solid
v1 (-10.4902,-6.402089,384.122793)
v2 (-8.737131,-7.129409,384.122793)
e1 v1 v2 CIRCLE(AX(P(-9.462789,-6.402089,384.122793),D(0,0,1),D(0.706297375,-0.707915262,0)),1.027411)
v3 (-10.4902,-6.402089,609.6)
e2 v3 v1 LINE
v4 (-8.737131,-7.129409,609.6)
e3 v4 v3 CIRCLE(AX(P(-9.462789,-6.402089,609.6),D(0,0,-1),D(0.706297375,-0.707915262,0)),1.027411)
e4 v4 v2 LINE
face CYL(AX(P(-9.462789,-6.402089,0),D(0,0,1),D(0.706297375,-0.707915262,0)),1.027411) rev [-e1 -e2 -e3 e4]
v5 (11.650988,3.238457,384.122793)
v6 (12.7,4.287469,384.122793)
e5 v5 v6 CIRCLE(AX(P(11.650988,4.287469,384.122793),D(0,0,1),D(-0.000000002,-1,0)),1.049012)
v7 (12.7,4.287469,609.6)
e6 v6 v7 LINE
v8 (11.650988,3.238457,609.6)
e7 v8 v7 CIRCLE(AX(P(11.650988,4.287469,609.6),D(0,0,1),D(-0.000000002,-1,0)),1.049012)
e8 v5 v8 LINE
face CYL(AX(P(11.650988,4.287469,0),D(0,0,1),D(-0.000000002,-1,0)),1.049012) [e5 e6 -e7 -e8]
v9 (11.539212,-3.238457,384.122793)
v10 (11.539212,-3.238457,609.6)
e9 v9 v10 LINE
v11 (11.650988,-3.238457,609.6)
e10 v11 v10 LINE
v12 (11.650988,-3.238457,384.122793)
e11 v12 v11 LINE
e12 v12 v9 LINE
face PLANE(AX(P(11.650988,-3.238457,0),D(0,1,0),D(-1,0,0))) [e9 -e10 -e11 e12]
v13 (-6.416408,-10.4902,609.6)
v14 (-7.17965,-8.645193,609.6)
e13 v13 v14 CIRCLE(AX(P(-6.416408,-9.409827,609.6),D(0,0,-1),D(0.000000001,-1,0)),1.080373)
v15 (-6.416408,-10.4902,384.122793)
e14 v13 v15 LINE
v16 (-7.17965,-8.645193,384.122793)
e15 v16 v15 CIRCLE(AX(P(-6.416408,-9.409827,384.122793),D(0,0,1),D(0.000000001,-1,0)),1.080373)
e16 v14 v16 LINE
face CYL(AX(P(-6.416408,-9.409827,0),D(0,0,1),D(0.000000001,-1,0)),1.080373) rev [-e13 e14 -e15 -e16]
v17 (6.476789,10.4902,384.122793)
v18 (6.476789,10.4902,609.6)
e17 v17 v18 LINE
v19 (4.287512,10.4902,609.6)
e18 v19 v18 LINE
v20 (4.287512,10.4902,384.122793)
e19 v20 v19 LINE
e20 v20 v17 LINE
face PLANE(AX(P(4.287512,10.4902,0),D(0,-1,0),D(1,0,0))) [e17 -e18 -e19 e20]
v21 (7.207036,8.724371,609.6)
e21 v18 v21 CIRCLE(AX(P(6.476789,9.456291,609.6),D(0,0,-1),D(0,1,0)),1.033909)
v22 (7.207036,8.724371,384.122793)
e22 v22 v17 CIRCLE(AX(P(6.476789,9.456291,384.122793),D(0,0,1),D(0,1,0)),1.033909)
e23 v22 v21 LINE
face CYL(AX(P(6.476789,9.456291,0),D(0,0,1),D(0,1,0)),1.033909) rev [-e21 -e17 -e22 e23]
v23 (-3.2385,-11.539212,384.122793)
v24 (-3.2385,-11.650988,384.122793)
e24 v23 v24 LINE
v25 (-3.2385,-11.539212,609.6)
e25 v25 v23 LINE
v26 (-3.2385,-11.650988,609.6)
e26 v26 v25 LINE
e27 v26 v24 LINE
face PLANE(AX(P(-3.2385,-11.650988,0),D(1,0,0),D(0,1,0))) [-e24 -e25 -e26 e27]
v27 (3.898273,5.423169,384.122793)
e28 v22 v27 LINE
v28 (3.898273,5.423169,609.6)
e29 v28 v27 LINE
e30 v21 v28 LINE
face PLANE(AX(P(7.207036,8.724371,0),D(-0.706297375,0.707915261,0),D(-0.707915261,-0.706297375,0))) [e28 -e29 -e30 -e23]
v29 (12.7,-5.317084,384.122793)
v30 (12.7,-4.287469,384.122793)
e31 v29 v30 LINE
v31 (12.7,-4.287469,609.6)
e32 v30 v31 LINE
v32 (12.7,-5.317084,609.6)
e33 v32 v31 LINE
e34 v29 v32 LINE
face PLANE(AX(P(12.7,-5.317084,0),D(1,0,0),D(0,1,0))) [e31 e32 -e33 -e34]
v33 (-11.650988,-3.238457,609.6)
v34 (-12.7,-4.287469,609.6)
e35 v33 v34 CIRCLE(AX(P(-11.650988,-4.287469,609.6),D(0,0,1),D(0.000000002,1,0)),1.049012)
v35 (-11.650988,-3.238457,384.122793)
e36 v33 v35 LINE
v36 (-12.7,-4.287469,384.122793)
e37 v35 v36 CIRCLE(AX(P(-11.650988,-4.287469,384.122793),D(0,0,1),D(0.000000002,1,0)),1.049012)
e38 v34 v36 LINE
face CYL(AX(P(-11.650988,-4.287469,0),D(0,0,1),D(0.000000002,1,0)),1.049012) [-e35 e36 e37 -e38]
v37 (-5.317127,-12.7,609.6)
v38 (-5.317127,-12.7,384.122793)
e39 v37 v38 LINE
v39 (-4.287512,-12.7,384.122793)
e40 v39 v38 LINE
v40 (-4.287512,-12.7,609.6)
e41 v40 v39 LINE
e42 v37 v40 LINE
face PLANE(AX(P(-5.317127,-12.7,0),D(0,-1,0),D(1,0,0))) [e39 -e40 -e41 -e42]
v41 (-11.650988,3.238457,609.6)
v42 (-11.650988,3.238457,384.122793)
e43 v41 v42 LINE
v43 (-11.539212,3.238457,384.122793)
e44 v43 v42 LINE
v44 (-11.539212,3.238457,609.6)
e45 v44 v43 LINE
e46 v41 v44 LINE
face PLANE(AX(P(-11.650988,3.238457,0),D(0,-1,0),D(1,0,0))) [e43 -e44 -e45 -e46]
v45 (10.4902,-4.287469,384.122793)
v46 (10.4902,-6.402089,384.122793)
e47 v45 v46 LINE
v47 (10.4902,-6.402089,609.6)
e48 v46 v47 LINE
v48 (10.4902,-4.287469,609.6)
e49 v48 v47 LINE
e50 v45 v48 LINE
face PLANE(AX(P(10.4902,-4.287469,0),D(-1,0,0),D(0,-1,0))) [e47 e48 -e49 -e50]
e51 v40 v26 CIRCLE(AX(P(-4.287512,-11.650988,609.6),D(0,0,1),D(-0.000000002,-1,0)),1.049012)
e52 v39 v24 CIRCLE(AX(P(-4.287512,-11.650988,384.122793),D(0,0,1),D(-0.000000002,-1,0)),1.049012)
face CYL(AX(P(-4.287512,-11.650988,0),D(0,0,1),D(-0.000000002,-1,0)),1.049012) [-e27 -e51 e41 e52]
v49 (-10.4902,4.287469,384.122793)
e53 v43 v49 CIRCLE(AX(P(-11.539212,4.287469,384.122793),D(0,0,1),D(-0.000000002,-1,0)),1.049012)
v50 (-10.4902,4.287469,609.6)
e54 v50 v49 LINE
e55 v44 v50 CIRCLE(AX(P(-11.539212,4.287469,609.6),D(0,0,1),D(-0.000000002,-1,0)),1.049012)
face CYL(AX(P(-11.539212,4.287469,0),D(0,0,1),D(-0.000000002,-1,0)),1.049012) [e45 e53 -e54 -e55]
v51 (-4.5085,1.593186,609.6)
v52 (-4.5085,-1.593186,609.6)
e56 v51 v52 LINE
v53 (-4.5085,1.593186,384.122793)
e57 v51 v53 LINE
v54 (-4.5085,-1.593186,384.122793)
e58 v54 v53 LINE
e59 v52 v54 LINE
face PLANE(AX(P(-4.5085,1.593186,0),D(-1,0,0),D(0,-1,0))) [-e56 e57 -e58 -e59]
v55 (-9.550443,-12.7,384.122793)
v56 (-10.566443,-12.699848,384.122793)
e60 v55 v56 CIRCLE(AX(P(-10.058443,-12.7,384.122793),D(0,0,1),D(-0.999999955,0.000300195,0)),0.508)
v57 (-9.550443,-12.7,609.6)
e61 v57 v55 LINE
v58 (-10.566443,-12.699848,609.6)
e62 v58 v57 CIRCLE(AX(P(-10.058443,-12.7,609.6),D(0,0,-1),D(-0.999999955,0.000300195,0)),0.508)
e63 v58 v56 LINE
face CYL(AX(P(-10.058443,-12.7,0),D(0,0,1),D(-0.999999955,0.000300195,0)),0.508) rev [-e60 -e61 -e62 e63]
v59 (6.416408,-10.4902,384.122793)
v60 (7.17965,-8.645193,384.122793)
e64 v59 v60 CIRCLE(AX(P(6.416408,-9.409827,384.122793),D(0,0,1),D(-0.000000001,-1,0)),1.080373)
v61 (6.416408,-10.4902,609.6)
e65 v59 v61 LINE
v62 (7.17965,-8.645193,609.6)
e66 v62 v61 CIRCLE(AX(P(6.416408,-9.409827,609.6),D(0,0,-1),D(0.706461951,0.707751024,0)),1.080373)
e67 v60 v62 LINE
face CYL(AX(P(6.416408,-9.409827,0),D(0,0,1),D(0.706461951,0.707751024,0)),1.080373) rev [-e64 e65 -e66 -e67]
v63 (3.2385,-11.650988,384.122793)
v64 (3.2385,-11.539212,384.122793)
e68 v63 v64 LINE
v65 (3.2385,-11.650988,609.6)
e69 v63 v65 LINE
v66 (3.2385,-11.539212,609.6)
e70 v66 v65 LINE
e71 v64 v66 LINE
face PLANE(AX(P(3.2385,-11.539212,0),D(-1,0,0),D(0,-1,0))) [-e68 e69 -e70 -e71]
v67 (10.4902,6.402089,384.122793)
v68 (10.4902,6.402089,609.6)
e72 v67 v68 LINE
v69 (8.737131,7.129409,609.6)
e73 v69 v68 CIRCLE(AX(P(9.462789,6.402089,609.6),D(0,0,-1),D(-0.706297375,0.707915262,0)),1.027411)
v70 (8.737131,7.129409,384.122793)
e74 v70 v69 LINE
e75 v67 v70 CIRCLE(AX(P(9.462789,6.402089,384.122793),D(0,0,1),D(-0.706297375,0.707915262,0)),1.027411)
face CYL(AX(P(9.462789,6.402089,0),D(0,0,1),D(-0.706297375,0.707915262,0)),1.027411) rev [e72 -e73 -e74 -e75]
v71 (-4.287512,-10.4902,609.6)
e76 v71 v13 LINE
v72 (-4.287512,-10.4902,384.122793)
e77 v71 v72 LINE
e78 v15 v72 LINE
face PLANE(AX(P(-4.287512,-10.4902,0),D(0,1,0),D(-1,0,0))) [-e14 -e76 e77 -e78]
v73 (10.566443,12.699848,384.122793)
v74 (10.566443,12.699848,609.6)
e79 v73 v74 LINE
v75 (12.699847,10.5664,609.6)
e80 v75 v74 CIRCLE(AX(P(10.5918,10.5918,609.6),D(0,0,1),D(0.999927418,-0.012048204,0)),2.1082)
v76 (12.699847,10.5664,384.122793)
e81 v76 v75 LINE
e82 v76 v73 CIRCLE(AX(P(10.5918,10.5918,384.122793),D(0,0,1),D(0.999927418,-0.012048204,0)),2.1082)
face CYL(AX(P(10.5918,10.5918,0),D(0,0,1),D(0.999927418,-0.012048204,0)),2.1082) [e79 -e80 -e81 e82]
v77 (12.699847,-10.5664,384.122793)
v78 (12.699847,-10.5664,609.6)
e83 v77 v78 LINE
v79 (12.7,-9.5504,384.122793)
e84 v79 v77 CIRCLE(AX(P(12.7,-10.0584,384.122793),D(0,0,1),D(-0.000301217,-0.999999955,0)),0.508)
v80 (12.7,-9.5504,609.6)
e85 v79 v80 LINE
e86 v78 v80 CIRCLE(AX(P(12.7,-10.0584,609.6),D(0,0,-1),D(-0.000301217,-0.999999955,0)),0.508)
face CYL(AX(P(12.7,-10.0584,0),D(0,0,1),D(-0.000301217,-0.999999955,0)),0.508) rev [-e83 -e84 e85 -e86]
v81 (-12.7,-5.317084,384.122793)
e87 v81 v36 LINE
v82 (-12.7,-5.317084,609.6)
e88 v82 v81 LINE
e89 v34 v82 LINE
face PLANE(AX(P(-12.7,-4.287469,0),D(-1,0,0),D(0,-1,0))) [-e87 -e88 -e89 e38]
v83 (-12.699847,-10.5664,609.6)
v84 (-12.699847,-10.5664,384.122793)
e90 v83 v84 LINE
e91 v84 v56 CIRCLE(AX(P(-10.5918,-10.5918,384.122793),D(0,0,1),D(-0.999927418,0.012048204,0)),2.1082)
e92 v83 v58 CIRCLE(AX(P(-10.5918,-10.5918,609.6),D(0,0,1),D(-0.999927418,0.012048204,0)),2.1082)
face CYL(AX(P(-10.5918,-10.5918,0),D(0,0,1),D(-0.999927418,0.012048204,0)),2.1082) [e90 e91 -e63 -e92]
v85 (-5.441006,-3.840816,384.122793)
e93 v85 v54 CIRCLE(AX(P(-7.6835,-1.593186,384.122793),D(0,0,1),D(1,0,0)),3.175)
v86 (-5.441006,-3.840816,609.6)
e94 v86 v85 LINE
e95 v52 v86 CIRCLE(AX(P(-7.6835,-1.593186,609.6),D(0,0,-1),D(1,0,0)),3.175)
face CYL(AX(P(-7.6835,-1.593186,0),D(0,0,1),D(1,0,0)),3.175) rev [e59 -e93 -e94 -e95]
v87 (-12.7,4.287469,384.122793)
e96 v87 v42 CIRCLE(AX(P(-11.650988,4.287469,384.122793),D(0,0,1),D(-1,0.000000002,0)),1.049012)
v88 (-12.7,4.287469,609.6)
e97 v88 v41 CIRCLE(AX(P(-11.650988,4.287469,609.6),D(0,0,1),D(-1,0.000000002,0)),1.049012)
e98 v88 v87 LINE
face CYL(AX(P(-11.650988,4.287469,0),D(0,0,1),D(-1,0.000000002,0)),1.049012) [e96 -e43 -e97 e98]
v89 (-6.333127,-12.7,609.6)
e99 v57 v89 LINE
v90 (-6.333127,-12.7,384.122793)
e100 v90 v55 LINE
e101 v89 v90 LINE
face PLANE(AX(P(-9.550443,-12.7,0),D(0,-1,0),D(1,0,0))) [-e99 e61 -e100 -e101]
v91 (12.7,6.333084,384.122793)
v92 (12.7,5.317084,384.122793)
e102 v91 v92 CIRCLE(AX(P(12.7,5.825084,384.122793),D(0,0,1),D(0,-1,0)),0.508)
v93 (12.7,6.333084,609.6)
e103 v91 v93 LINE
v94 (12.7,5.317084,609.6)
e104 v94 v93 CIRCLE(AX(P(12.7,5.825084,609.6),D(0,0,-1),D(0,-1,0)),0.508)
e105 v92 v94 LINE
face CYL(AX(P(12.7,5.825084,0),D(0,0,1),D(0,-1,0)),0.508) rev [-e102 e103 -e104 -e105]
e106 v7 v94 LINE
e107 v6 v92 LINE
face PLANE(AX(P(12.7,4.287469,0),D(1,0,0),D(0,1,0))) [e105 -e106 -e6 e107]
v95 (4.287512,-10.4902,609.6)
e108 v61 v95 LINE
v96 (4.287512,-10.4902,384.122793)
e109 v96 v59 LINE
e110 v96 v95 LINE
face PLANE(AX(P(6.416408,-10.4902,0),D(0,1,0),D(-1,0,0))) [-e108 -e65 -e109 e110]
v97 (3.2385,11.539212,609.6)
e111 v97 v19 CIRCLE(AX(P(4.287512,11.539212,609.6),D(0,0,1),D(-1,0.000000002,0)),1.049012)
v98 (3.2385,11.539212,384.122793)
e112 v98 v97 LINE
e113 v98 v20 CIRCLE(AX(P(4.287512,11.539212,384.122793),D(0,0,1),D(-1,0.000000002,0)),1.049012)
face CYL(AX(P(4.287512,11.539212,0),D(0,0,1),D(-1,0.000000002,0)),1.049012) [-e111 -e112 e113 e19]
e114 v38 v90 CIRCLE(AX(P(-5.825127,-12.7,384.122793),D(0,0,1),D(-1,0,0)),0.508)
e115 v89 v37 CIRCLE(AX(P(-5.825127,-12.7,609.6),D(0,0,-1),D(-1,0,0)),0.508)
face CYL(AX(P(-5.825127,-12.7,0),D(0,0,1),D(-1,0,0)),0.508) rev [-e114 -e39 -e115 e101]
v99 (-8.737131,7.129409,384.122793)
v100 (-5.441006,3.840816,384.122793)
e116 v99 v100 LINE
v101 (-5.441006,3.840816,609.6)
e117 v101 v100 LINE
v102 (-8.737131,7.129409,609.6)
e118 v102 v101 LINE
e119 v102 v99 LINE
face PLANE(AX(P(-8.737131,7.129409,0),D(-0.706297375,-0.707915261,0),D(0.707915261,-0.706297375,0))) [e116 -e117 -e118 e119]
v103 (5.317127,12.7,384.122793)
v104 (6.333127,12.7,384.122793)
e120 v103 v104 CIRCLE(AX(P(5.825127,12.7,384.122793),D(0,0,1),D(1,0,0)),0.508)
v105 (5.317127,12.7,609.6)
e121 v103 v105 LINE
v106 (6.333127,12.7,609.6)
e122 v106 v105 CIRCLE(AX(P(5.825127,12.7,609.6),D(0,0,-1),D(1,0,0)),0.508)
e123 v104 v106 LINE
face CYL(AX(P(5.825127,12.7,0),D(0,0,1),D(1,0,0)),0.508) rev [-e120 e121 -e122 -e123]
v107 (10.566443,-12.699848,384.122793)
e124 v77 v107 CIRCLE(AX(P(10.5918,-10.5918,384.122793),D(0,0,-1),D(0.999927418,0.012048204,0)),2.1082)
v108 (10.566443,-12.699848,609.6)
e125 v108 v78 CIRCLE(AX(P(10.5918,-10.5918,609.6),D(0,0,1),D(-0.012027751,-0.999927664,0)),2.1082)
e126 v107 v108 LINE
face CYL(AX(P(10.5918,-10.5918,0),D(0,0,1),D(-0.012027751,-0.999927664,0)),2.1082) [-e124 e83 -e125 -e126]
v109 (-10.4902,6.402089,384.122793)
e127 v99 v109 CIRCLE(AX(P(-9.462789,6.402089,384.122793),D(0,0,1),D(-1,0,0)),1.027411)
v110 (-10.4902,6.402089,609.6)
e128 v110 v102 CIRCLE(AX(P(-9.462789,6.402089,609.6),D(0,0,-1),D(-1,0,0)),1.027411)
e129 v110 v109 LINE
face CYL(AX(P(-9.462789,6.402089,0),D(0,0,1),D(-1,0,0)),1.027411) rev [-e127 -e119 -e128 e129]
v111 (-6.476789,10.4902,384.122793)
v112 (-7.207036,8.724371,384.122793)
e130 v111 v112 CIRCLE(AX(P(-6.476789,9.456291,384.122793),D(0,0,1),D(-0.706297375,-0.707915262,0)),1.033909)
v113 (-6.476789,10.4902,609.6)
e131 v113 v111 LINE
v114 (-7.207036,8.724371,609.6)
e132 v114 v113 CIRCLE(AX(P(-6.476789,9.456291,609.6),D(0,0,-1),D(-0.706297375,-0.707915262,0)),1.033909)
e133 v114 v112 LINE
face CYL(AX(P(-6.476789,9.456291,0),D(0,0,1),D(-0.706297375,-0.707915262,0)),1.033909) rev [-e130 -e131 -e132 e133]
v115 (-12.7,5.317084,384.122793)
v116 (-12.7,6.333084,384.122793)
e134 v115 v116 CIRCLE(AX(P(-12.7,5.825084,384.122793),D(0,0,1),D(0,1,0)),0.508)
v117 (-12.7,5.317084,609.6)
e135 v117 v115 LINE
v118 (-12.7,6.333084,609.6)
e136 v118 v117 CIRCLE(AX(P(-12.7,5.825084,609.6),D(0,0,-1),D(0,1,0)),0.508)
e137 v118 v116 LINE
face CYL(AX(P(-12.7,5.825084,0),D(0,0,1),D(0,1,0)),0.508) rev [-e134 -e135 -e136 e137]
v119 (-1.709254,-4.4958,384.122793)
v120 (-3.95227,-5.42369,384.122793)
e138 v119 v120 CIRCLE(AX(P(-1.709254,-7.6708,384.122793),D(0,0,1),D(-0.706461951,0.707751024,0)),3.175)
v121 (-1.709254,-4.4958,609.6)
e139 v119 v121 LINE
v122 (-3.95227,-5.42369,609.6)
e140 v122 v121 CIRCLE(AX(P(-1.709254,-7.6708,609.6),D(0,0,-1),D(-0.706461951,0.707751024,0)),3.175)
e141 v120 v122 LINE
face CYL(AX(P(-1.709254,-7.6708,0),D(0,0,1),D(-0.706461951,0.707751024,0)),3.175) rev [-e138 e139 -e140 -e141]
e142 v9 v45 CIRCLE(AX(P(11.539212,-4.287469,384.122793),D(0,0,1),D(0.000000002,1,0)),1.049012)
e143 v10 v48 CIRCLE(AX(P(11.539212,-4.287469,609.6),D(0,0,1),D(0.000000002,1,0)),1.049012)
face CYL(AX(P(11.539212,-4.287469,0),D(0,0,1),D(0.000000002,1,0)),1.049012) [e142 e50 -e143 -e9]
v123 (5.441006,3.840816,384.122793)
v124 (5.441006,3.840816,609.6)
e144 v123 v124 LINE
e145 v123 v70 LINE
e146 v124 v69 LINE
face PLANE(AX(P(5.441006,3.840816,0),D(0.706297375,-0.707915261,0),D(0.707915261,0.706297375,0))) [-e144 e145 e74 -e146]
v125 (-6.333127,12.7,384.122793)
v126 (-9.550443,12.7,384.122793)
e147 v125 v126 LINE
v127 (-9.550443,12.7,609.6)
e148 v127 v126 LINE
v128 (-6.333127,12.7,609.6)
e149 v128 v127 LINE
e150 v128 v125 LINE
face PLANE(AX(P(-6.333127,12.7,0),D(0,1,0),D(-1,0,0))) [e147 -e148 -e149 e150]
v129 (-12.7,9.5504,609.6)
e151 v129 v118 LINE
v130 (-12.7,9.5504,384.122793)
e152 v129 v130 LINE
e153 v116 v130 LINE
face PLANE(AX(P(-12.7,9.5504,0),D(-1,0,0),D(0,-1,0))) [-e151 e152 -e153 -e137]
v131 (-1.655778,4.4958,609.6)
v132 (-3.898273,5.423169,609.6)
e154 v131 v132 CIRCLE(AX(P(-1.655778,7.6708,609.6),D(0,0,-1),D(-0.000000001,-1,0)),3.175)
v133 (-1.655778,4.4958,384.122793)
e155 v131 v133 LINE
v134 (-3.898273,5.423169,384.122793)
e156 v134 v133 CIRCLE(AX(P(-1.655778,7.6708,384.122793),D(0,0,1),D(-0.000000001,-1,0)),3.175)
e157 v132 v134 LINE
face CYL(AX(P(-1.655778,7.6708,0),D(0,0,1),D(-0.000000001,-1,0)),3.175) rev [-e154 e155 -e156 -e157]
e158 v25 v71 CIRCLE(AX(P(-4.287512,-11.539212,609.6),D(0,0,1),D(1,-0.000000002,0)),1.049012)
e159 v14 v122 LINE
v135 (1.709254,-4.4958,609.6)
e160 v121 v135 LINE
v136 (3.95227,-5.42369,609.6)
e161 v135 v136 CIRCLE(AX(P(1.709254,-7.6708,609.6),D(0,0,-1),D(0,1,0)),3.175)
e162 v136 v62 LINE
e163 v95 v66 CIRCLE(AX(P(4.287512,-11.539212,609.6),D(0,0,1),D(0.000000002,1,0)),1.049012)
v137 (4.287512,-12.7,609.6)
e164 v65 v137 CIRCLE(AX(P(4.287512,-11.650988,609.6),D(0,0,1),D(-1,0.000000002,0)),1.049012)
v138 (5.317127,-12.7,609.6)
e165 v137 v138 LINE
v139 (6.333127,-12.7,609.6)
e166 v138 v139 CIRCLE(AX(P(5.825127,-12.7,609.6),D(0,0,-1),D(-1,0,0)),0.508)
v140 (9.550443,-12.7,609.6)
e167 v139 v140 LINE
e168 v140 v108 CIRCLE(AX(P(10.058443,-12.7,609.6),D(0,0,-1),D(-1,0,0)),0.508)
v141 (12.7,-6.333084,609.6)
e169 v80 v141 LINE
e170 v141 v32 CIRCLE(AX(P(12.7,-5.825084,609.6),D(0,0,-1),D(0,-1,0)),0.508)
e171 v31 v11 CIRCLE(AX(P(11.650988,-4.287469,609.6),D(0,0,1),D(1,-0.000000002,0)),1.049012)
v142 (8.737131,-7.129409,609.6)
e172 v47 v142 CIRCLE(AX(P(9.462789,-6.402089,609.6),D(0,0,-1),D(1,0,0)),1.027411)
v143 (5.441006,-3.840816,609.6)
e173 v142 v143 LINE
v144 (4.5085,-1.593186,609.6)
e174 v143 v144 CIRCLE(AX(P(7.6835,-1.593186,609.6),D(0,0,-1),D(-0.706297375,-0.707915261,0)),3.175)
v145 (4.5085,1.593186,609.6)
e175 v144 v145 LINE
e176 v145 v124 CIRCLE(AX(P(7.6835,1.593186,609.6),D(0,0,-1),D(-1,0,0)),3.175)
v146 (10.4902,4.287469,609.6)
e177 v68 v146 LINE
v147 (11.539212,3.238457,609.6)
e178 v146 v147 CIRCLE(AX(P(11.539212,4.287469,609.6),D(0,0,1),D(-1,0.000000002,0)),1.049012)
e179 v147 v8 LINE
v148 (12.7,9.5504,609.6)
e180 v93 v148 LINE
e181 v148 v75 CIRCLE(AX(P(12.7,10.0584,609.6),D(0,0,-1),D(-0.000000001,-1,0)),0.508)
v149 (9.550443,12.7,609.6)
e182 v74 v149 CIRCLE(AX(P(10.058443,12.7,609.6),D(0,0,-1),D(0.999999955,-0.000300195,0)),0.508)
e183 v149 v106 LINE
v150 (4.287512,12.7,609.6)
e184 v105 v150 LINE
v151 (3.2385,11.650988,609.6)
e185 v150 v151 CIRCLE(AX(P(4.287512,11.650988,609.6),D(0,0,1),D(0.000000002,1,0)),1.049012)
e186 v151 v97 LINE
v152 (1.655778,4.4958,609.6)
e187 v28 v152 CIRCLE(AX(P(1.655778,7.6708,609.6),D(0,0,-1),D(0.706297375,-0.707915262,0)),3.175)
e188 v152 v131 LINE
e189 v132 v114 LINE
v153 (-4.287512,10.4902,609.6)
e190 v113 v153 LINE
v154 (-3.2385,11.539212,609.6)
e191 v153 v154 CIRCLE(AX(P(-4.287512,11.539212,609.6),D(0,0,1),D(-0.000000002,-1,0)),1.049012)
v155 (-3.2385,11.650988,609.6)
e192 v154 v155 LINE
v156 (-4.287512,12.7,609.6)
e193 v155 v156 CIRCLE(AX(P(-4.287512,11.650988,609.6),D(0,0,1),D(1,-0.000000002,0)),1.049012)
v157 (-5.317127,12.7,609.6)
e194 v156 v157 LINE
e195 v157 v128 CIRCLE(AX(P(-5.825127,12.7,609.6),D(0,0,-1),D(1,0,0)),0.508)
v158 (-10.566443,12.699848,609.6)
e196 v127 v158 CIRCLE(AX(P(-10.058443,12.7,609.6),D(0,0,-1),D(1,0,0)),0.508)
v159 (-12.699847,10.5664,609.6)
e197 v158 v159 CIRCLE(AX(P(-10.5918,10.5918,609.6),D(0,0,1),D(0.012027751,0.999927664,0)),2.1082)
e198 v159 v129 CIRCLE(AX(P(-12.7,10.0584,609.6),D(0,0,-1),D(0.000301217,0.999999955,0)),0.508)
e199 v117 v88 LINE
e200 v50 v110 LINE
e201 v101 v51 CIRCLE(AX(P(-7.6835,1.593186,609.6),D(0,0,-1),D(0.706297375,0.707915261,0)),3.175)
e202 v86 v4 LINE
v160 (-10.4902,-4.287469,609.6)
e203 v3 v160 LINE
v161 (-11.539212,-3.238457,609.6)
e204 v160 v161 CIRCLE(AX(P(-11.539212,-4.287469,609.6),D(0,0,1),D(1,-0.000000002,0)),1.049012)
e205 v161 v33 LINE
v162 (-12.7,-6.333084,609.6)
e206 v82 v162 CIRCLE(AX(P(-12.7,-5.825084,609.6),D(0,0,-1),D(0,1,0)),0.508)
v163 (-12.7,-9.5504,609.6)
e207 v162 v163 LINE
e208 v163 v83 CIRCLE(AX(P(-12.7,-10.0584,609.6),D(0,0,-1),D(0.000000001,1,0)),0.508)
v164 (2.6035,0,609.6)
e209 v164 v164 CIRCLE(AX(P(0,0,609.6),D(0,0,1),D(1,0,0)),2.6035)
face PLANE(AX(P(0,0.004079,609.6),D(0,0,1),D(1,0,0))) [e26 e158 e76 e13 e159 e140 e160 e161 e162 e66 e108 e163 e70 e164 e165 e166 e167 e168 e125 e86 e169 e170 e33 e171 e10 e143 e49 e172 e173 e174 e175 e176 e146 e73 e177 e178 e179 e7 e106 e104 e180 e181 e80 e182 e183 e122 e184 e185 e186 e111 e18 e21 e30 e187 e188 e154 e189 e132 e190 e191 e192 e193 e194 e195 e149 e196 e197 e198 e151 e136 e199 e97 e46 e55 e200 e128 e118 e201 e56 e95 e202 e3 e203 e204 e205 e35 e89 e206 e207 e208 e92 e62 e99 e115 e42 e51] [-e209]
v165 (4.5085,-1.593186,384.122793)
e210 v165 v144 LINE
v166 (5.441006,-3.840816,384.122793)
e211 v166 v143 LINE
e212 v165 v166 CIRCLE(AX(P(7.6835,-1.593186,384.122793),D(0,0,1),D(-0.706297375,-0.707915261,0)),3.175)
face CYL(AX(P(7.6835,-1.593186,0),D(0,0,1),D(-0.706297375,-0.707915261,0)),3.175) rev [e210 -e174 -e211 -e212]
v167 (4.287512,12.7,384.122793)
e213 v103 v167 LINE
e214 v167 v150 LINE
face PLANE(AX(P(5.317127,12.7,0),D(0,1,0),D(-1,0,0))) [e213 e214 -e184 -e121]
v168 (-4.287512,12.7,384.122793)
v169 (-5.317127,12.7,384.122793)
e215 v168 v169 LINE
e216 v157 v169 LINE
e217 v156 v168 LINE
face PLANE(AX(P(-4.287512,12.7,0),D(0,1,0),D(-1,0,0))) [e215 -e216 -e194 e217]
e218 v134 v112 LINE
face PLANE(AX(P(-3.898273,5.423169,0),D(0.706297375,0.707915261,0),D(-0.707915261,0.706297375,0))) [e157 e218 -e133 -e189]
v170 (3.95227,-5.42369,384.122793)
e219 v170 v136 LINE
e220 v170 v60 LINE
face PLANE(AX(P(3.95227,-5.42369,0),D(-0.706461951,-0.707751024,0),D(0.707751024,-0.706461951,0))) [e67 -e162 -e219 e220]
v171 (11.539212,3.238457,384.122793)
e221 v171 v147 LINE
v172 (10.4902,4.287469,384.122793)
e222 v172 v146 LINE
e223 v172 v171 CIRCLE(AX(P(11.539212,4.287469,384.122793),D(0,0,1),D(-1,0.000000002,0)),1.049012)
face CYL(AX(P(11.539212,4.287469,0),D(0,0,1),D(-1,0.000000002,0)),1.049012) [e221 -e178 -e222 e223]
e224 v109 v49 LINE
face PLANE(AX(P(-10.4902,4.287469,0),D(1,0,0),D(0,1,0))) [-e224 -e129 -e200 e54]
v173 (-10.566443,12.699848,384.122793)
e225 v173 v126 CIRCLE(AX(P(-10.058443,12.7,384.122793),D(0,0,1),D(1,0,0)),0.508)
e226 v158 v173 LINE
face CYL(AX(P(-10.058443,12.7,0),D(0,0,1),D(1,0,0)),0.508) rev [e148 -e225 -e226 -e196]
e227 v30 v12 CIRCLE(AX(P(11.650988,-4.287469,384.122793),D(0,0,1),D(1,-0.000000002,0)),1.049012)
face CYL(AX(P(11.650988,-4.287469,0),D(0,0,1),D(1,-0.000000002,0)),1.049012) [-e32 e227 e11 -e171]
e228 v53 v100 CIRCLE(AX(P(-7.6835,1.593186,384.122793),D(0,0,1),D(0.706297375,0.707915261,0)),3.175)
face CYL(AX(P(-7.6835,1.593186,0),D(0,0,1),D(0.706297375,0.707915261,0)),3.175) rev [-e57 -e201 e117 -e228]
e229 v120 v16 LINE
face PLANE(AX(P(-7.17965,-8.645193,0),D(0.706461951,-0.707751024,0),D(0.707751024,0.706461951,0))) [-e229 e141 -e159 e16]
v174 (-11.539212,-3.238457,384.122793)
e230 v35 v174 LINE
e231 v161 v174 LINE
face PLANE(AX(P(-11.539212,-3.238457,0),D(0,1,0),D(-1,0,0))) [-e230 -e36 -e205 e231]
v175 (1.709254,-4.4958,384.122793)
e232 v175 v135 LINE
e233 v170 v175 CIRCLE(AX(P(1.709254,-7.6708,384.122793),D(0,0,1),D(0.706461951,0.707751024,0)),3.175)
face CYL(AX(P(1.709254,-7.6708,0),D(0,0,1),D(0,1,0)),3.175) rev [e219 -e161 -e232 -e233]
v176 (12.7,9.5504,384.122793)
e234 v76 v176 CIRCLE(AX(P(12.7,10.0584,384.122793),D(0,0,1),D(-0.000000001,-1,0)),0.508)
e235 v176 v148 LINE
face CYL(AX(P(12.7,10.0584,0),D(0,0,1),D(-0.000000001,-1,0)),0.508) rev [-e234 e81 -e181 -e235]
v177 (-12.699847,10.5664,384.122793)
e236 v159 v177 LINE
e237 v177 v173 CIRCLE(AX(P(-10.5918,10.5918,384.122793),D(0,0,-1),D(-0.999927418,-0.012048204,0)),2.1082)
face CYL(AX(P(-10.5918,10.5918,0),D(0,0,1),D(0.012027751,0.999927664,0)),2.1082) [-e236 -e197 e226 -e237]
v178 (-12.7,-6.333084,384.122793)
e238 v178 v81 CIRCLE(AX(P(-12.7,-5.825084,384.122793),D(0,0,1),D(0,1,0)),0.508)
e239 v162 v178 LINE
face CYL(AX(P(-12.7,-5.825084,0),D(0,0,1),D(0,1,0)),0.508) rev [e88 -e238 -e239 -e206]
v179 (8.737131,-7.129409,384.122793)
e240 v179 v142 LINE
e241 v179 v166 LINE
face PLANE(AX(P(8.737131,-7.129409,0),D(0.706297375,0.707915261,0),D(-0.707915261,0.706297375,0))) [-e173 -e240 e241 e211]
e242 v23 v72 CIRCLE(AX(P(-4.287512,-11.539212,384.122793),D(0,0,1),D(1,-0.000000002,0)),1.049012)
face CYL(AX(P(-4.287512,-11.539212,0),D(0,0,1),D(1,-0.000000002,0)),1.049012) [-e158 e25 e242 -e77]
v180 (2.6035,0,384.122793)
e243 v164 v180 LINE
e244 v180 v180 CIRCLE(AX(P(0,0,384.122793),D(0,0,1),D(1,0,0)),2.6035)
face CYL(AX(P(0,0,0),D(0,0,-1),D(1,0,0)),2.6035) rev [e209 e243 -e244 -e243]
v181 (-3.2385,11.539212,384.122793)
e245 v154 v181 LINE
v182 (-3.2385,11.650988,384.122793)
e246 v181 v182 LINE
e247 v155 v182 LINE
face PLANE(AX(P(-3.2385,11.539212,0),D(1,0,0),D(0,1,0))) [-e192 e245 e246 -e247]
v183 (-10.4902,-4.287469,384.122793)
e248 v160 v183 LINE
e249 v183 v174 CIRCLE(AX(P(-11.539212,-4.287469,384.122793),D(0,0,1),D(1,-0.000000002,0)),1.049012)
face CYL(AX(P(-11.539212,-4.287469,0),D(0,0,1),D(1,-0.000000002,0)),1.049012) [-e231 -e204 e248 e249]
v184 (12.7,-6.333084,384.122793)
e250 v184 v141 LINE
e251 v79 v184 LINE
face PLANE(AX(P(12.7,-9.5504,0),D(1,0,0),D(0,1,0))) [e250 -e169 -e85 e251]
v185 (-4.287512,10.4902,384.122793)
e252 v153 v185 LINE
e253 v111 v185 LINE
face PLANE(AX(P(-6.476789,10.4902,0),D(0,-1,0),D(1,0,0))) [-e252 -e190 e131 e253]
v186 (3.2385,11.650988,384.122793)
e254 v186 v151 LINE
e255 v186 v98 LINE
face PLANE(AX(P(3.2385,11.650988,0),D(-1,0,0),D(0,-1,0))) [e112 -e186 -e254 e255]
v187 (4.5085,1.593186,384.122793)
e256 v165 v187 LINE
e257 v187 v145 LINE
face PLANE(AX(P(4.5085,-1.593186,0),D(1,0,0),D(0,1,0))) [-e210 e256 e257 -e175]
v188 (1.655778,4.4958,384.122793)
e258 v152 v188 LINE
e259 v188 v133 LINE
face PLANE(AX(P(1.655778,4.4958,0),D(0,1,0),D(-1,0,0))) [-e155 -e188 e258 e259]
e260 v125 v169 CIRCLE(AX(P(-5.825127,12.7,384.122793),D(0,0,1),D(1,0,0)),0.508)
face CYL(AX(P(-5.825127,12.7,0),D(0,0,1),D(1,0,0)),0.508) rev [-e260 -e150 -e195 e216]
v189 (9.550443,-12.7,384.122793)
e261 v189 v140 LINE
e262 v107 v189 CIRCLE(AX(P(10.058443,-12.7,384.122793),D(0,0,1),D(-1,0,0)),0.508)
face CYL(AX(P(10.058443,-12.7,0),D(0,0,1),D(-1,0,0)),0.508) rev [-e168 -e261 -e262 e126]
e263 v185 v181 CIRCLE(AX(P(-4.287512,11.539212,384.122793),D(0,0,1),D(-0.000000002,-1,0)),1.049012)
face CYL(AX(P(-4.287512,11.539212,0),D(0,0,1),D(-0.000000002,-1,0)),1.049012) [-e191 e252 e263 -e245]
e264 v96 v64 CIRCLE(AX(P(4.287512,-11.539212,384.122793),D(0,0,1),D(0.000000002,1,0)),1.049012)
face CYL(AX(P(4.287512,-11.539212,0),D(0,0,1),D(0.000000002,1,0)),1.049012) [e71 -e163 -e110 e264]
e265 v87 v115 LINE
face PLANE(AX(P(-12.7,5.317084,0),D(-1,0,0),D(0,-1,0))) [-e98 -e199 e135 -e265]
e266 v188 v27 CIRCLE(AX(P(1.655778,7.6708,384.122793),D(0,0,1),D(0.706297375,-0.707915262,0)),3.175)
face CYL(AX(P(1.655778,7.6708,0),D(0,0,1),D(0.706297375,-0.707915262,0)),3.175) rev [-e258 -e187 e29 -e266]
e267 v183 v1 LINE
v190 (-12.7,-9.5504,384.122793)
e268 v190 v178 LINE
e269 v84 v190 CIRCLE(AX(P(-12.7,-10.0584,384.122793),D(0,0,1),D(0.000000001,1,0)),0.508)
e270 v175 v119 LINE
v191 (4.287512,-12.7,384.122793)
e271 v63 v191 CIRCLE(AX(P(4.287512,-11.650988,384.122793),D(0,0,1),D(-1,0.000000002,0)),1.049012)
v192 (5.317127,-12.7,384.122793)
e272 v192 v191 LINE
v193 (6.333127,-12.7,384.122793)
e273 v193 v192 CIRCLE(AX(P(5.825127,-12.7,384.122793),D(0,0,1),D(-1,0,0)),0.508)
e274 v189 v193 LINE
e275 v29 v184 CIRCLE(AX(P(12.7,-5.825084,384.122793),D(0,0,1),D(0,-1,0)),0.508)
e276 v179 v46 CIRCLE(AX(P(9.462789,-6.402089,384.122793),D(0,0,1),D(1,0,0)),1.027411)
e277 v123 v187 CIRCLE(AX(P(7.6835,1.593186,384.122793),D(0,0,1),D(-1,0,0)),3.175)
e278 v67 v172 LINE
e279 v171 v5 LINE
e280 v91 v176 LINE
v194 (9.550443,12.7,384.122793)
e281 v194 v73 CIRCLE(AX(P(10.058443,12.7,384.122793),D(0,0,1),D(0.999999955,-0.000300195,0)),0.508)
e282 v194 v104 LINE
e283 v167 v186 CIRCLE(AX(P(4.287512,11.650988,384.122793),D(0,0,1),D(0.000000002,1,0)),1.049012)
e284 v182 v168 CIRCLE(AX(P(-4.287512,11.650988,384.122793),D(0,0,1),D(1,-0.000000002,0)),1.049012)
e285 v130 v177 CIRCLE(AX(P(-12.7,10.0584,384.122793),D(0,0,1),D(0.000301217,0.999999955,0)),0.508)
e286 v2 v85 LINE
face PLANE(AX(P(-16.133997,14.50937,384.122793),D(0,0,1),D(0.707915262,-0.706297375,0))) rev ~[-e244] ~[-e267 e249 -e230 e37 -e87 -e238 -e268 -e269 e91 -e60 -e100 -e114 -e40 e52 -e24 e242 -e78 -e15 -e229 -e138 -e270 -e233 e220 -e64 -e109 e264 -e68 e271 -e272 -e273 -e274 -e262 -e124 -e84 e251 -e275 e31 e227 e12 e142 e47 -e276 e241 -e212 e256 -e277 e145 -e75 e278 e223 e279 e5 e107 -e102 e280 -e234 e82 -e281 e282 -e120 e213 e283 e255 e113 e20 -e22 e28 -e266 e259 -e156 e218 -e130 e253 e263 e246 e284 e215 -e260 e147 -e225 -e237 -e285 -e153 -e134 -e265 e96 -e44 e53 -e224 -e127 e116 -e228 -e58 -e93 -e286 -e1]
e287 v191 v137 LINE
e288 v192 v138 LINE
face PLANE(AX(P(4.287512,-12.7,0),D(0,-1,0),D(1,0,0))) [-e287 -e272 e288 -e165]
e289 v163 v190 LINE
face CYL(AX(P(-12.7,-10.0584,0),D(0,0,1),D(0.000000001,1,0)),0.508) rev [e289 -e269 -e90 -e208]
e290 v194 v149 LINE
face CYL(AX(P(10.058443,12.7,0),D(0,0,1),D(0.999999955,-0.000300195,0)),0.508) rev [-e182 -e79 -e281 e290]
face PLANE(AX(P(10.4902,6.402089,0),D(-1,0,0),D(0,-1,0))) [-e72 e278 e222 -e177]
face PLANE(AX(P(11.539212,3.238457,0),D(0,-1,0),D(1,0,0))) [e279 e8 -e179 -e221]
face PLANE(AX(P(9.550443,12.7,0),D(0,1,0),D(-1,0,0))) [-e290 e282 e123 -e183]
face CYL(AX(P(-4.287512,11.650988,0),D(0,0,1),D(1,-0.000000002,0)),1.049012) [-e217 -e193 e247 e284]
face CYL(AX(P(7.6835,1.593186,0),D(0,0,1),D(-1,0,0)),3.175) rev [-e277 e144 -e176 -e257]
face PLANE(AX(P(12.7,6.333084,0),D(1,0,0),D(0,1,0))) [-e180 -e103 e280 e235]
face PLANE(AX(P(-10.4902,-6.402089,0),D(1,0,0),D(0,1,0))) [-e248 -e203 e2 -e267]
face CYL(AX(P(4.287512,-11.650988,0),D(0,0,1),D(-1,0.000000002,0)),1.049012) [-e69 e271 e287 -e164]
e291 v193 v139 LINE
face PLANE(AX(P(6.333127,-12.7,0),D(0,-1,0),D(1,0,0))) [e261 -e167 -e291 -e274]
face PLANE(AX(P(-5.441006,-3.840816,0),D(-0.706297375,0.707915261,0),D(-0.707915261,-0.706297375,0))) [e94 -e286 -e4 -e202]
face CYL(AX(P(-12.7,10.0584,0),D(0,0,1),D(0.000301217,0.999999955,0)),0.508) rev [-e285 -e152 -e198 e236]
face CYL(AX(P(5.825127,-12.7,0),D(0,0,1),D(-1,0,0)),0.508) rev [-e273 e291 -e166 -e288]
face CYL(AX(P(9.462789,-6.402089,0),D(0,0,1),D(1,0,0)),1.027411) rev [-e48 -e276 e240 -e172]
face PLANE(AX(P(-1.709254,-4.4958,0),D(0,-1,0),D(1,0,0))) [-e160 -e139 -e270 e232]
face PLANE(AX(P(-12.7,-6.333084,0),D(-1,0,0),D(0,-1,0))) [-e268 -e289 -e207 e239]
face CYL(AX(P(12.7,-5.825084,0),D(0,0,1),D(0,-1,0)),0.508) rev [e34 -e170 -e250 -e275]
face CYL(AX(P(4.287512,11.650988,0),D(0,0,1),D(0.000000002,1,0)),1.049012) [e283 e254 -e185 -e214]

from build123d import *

# Parameters (mm, degrees)
SKETCH1_R               = 2.6035
BOSS_EXTRUDE1_DEPTH     = 609.6
SKETCH2_W               = 52.583844564
SKETCH2_H               = 999.926982924
CUT_EXTRUDE1_DEPTH      = 21.082
CUT_EXTRUDE1_DEPTH_BACK = 22.352


with BuildPart() as part:
    # Sketch1 → Boss-Extrude1 (new body, symmetric)
    with BuildSketch(Plane.XY):
        with BuildLine():
            Line((-7.179650497, -8.645192506), (-3.952270251, -5.423690499))
            ThreePointArc((-3.952270251, -5.423690499), (-2.922936451, -4.736929036), (-1.709253557, -4.4958))
            Line((-1.709253557, -4.4958), (1.709253557, -4.4958))
            ThreePointArc((1.709253557, -4.4958), (2.922936451, -4.736929036), (3.952270251, -5.423690499))
            Line((3.952270251, -5.423690499), (7.179650497, -8.645192506))
            ThreePointArc((7.179650497, -8.645192506), (7.41473083, -9.822813117), (6.416408329, -10.4902))
            Line((6.416408329, -10.4902), (4.287512407, -10.4902))
            ThreePointArc((4.287512407, -10.4902), (3.54574862, -10.79744862), (3.2385, -11.539212407))
            Line((3.2385, -11.539212407), (3.2385, -11.650987593))
            ThreePointArc((3.2385, -11.650987593), (3.54574862, -12.39275138), (4.287512407, -12.7))
            Line((4.287512407, -12.7), (5.317126718, -12.7))
            ThreePointArc((5.317126718, -12.7), (5.825126718, -12.192), (6.333126718, -12.7))
            Line((6.333126718, -12.7), (9.550443118, -12.7))
            ThreePointArc((9.550443118, -12.7), (10.058366869, -12.192000006), (10.566443095, -12.699847501))
            ThreePointArc((10.566443095, -12.699847501), (12.082537762, -12.08250727), (12.699846982, -10.566399977))
            ThreePointArc((12.699846982, -10.566399977), (12.192000006, -10.058323491), (12.7, -9.5504))
            Line((12.7, -9.5504), (12.7, -6.3330836))
            ThreePointArc((12.7, -6.3330836), (12.192, -5.8250836), (12.7, -5.3170836))
            Line((12.7, -5.3170836), (12.7, -4.287469289))
            ThreePointArc((12.7, -4.287469289), (12.39275138, -3.545705502), (11.650987593, -3.238456882))
            Line((11.650987593, -3.238456882), (11.539212407, -3.238456882))
            ThreePointArc((11.539212407, -3.238456882), (10.79744862, -3.545705502), (10.4902, -4.287469289))
            Line((10.4902, -4.287469289), (10.4902, -6.402089023))
            ThreePointArc((10.4902, -6.402089023), (9.856505071, -7.351067942), (8.737131347, -7.129408934))
            Line((8.737131347, -7.129408934), (5.441005833, -3.840816462))
            ThreePointArc((5.441005833, -3.840816462), (4.750877967, -2.809883091), (4.5085, -1.593185507))
            Line((4.5085, -1.593185507), (4.5085, 1.593185507))
            ThreePointArc((4.5085, 1.593185507), (4.750877967, 2.809883091), (5.441005833, 3.840816462))
            Line((5.441005833, 3.840816462), (8.737131347, 7.129408934))
            ThreePointArc((8.737131347, 7.129408934), (9.856505071, 7.351067942), (10.4902, 6.402089023))
            Line((10.4902, 6.402089023), (10.4902, 4.287469289))
            ThreePointArc((10.4902, 4.287469289), (10.79744862, 3.545705502), (11.539212407, 3.238456882))
            Line((11.539212407, 3.238456882), (11.650987593, 3.238456882))
            ThreePointArc((11.650987593, 3.238456882), (12.39275138, 3.545705502), (12.7, 4.287469289))
            Line((12.7, 4.287469289), (12.7, 5.3170836))
            ThreePointArc((12.7, 5.3170836), (12.192, 5.8250836), (12.7, 6.3330836))
            Line((12.7, 6.3330836), (12.7, 9.5504))
            ThreePointArc((12.7, 9.5504), (12.192000006, 10.058323491), (12.699846982, 10.566399977))
            ThreePointArc((12.699846982, 10.566399977), (12.082537762, 12.08250727), (10.566443095, 12.699847501))
            ThreePointArc((10.566443095, 12.699847501), (10.058366869, 12.192000006), (9.550443118, 12.7))
            Line((9.550443118, 12.7), (6.333126718, 12.7))
            ThreePointArc((6.333126718, 12.7), (5.825126718, 12.192), (5.317126718, 12.7))
            Line((5.317126718, 12.7), (4.287512407, 12.7))
            ThreePointArc((4.287512407, 12.7), (3.54574862, 12.39275138), (3.2385, 11.650987593))
            Line((3.2385, 11.650987593), (3.2385, 11.539212407))
            ThreePointArc((3.2385, 11.539212407), (3.54574862, 10.79744862), (4.287512407, 10.4902))
            Line((4.287512407, 10.4902), (6.476788598, 10.4902))
            ThreePointArc((6.476788598, 10.4902), (7.432222385, 9.85140422), (7.207036008, 8.724370562))
            Line((7.207036008, 8.724370562), (3.898272566, 5.423169045))
            ThreePointArc((3.898272566, 5.423169045), (2.869120213, 4.736787962), (1.655778399, 4.4958))
            Line((1.655778399, 4.4958), (-1.655778399, 4.4958))
            ThreePointArc((-1.655778399, 4.4958), (-2.869120213, 4.736787962), (-3.898272566, 5.423169045))
            Line((-3.898272566, 5.423169045), (-7.207036008, 8.724370562))
            ThreePointArc((-7.207036008, 8.724370562), (-7.432222385, 9.85140422), (-6.476788598, 10.4902))
            Line((-6.476788598, 10.4902), (-4.287512407, 10.4902))
            ThreePointArc((-4.287512407, 10.4902), (-3.54574862, 10.79744862), (-3.2385, 11.539212407))
            Line((-3.2385, 11.539212407), (-3.2385, 11.650987593))
            ThreePointArc((-3.2385, 11.650987593), (-3.54574862, 12.39275138), (-4.287512407, 12.7))
            Line((-4.287512407, 12.7), (-5.317126718, 12.7))
            ThreePointArc((-5.317126718, 12.7), (-5.825126718, 12.192), (-6.333126718, 12.7))
            Line((-6.333126718, 12.7), (-9.550443118, 12.7))
            ThreePointArc((-9.550443118, 12.7), (-10.058366869, 12.192000006), (-10.566443095, 12.699847501))
            ThreePointArc((-10.566443095, 12.699847501), (-12.082537762, 12.08250727), (-12.699846982, 10.566399977))
            ThreePointArc((-12.699846982, 10.566399977), (-12.192000006, 10.058323491), (-12.7, 9.5504))
            Line((-12.7, 9.5504), (-12.7, 6.3330836))
            ThreePointArc((-12.7, 6.3330836), (-12.192, 5.8250836), (-12.7, 5.3170836))
            Line((-12.7, 5.3170836), (-12.7, 4.287469289))
            ThreePointArc((-12.7, 4.287469289), (-12.39275138, 3.545705502), (-11.650987593, 3.238456882))
            Line((-11.650987593, 3.238456882), (-11.539212407, 3.238456882))
            ThreePointArc((-11.539212407, 3.238456882), (-10.79744862, 3.545705502), (-10.4902, 4.287469289))
            Line((-10.4902, 4.287469289), (-10.4902, 6.402089023))
            ThreePointArc((-10.4902, 6.402089023), (-9.856505071, 7.351067942), (-8.737131347, 7.129408934))
            Line((-8.737131347, 7.129408934), (-5.441005833, 3.840816462))
            ThreePointArc((-5.441005833, 3.840816462), (-4.750877967, 2.809883091), (-4.5085, 1.593185507))
            Line((-4.5085, 1.593185507), (-4.5085, -1.593185507))
            ThreePointArc((-4.5085, -1.593185507), (-4.750877967, -2.809883091), (-5.441005833, -3.840816462))
            Line((-5.441005833, -3.840816462), (-8.737131347, -7.129408934))
            ThreePointArc((-8.737131347, -7.129408934), (-9.856505071, -7.351067942), (-10.4902, -6.402089023))
            Line((-10.4902, -6.402089023), (-10.4902, -4.287469289))
            ThreePointArc((-10.4902, -4.287469289), (-10.79744862, -3.545705502), (-11.539212407, -3.238456882))
            Line((-11.539212407, -3.238456882), (-11.650987593, -3.238456882))
            ThreePointArc((-11.650987593, -3.238456882), (-12.39275138, -3.545705502), (-12.7, -4.287469289))
            Line((-12.7, -4.287469289), (-12.7, -5.3170836))
            ThreePointArc((-12.7, -5.3170836), (-12.192, -5.8250836), (-12.7, -6.3330836))
            Line((-12.7, -6.3330836), (-12.7, -9.5504))
            ThreePointArc((-12.7, -9.5504), (-12.192000006, -10.058323491), (-12.699846982, -10.566399977))
            ThreePointArc((-12.699846982, -10.566399977), (-12.082537762, -12.08250727), (-10.566443095, -12.699847501))
            ThreePointArc((-10.566443095, -12.699847501), (-10.058366869, -12.192000006), (-9.550443118, -12.7))
            Line((-9.550443118, -12.7), (-6.333126718, -12.7))
            ThreePointArc((-6.333126718, -12.7), (-5.825126718, -12.192), (-5.317126718, -12.7))
            Line((-5.317126718, -12.7), (-4.287512407, -12.7))
            ThreePointArc((-4.287512407, -12.7), (-3.54574862, -12.39275138), (-3.2385, -11.650987593))
            Line((-3.2385, -11.650987593), (-3.2385, -11.539212407))
            ThreePointArc((-3.2385, -11.539212407), (-3.54574862, -10.79744862), (-4.287512407, -10.4902))
            Line((-4.287512407, -10.4902), (-6.416408329, -10.4902))
            ThreePointArc((-6.416408329, -10.4902), (-7.41473083, -9.822813117), (-7.179650497, -8.645192506))
        make_face()
        Circle(SKETCH1_R, mode=Mode.SUBTRACT)
    extrude(amount=BOSS_EXTRUDE1_DEPTH, both=True)

    # Sketch2 → Cut-Extrude1 (cut, two sides)
    with BuildSketch(Plane(origin=(-0.793875106, -0.795693603, 0), x_dir=(0.707915262, -0.706297375, 0), z_dir=(-0.706297375, -0.707915262, 0))) as cut_extrude1_sk:
        with Locations((4.622489738, -115.840698227)):
            Rectangle(SKETCH2_W, SKETCH2_H)
    extrude(amount=CUT_EXTRUDE1_DEPTH, mode=Mode.SUBTRACT)
    extrude(cut_extrude1_sk.sketch, amount=-CUT_EXTRUDE1_DEPTH_BACK, mode=Mode.SUBTRACT)


solid = part.part
